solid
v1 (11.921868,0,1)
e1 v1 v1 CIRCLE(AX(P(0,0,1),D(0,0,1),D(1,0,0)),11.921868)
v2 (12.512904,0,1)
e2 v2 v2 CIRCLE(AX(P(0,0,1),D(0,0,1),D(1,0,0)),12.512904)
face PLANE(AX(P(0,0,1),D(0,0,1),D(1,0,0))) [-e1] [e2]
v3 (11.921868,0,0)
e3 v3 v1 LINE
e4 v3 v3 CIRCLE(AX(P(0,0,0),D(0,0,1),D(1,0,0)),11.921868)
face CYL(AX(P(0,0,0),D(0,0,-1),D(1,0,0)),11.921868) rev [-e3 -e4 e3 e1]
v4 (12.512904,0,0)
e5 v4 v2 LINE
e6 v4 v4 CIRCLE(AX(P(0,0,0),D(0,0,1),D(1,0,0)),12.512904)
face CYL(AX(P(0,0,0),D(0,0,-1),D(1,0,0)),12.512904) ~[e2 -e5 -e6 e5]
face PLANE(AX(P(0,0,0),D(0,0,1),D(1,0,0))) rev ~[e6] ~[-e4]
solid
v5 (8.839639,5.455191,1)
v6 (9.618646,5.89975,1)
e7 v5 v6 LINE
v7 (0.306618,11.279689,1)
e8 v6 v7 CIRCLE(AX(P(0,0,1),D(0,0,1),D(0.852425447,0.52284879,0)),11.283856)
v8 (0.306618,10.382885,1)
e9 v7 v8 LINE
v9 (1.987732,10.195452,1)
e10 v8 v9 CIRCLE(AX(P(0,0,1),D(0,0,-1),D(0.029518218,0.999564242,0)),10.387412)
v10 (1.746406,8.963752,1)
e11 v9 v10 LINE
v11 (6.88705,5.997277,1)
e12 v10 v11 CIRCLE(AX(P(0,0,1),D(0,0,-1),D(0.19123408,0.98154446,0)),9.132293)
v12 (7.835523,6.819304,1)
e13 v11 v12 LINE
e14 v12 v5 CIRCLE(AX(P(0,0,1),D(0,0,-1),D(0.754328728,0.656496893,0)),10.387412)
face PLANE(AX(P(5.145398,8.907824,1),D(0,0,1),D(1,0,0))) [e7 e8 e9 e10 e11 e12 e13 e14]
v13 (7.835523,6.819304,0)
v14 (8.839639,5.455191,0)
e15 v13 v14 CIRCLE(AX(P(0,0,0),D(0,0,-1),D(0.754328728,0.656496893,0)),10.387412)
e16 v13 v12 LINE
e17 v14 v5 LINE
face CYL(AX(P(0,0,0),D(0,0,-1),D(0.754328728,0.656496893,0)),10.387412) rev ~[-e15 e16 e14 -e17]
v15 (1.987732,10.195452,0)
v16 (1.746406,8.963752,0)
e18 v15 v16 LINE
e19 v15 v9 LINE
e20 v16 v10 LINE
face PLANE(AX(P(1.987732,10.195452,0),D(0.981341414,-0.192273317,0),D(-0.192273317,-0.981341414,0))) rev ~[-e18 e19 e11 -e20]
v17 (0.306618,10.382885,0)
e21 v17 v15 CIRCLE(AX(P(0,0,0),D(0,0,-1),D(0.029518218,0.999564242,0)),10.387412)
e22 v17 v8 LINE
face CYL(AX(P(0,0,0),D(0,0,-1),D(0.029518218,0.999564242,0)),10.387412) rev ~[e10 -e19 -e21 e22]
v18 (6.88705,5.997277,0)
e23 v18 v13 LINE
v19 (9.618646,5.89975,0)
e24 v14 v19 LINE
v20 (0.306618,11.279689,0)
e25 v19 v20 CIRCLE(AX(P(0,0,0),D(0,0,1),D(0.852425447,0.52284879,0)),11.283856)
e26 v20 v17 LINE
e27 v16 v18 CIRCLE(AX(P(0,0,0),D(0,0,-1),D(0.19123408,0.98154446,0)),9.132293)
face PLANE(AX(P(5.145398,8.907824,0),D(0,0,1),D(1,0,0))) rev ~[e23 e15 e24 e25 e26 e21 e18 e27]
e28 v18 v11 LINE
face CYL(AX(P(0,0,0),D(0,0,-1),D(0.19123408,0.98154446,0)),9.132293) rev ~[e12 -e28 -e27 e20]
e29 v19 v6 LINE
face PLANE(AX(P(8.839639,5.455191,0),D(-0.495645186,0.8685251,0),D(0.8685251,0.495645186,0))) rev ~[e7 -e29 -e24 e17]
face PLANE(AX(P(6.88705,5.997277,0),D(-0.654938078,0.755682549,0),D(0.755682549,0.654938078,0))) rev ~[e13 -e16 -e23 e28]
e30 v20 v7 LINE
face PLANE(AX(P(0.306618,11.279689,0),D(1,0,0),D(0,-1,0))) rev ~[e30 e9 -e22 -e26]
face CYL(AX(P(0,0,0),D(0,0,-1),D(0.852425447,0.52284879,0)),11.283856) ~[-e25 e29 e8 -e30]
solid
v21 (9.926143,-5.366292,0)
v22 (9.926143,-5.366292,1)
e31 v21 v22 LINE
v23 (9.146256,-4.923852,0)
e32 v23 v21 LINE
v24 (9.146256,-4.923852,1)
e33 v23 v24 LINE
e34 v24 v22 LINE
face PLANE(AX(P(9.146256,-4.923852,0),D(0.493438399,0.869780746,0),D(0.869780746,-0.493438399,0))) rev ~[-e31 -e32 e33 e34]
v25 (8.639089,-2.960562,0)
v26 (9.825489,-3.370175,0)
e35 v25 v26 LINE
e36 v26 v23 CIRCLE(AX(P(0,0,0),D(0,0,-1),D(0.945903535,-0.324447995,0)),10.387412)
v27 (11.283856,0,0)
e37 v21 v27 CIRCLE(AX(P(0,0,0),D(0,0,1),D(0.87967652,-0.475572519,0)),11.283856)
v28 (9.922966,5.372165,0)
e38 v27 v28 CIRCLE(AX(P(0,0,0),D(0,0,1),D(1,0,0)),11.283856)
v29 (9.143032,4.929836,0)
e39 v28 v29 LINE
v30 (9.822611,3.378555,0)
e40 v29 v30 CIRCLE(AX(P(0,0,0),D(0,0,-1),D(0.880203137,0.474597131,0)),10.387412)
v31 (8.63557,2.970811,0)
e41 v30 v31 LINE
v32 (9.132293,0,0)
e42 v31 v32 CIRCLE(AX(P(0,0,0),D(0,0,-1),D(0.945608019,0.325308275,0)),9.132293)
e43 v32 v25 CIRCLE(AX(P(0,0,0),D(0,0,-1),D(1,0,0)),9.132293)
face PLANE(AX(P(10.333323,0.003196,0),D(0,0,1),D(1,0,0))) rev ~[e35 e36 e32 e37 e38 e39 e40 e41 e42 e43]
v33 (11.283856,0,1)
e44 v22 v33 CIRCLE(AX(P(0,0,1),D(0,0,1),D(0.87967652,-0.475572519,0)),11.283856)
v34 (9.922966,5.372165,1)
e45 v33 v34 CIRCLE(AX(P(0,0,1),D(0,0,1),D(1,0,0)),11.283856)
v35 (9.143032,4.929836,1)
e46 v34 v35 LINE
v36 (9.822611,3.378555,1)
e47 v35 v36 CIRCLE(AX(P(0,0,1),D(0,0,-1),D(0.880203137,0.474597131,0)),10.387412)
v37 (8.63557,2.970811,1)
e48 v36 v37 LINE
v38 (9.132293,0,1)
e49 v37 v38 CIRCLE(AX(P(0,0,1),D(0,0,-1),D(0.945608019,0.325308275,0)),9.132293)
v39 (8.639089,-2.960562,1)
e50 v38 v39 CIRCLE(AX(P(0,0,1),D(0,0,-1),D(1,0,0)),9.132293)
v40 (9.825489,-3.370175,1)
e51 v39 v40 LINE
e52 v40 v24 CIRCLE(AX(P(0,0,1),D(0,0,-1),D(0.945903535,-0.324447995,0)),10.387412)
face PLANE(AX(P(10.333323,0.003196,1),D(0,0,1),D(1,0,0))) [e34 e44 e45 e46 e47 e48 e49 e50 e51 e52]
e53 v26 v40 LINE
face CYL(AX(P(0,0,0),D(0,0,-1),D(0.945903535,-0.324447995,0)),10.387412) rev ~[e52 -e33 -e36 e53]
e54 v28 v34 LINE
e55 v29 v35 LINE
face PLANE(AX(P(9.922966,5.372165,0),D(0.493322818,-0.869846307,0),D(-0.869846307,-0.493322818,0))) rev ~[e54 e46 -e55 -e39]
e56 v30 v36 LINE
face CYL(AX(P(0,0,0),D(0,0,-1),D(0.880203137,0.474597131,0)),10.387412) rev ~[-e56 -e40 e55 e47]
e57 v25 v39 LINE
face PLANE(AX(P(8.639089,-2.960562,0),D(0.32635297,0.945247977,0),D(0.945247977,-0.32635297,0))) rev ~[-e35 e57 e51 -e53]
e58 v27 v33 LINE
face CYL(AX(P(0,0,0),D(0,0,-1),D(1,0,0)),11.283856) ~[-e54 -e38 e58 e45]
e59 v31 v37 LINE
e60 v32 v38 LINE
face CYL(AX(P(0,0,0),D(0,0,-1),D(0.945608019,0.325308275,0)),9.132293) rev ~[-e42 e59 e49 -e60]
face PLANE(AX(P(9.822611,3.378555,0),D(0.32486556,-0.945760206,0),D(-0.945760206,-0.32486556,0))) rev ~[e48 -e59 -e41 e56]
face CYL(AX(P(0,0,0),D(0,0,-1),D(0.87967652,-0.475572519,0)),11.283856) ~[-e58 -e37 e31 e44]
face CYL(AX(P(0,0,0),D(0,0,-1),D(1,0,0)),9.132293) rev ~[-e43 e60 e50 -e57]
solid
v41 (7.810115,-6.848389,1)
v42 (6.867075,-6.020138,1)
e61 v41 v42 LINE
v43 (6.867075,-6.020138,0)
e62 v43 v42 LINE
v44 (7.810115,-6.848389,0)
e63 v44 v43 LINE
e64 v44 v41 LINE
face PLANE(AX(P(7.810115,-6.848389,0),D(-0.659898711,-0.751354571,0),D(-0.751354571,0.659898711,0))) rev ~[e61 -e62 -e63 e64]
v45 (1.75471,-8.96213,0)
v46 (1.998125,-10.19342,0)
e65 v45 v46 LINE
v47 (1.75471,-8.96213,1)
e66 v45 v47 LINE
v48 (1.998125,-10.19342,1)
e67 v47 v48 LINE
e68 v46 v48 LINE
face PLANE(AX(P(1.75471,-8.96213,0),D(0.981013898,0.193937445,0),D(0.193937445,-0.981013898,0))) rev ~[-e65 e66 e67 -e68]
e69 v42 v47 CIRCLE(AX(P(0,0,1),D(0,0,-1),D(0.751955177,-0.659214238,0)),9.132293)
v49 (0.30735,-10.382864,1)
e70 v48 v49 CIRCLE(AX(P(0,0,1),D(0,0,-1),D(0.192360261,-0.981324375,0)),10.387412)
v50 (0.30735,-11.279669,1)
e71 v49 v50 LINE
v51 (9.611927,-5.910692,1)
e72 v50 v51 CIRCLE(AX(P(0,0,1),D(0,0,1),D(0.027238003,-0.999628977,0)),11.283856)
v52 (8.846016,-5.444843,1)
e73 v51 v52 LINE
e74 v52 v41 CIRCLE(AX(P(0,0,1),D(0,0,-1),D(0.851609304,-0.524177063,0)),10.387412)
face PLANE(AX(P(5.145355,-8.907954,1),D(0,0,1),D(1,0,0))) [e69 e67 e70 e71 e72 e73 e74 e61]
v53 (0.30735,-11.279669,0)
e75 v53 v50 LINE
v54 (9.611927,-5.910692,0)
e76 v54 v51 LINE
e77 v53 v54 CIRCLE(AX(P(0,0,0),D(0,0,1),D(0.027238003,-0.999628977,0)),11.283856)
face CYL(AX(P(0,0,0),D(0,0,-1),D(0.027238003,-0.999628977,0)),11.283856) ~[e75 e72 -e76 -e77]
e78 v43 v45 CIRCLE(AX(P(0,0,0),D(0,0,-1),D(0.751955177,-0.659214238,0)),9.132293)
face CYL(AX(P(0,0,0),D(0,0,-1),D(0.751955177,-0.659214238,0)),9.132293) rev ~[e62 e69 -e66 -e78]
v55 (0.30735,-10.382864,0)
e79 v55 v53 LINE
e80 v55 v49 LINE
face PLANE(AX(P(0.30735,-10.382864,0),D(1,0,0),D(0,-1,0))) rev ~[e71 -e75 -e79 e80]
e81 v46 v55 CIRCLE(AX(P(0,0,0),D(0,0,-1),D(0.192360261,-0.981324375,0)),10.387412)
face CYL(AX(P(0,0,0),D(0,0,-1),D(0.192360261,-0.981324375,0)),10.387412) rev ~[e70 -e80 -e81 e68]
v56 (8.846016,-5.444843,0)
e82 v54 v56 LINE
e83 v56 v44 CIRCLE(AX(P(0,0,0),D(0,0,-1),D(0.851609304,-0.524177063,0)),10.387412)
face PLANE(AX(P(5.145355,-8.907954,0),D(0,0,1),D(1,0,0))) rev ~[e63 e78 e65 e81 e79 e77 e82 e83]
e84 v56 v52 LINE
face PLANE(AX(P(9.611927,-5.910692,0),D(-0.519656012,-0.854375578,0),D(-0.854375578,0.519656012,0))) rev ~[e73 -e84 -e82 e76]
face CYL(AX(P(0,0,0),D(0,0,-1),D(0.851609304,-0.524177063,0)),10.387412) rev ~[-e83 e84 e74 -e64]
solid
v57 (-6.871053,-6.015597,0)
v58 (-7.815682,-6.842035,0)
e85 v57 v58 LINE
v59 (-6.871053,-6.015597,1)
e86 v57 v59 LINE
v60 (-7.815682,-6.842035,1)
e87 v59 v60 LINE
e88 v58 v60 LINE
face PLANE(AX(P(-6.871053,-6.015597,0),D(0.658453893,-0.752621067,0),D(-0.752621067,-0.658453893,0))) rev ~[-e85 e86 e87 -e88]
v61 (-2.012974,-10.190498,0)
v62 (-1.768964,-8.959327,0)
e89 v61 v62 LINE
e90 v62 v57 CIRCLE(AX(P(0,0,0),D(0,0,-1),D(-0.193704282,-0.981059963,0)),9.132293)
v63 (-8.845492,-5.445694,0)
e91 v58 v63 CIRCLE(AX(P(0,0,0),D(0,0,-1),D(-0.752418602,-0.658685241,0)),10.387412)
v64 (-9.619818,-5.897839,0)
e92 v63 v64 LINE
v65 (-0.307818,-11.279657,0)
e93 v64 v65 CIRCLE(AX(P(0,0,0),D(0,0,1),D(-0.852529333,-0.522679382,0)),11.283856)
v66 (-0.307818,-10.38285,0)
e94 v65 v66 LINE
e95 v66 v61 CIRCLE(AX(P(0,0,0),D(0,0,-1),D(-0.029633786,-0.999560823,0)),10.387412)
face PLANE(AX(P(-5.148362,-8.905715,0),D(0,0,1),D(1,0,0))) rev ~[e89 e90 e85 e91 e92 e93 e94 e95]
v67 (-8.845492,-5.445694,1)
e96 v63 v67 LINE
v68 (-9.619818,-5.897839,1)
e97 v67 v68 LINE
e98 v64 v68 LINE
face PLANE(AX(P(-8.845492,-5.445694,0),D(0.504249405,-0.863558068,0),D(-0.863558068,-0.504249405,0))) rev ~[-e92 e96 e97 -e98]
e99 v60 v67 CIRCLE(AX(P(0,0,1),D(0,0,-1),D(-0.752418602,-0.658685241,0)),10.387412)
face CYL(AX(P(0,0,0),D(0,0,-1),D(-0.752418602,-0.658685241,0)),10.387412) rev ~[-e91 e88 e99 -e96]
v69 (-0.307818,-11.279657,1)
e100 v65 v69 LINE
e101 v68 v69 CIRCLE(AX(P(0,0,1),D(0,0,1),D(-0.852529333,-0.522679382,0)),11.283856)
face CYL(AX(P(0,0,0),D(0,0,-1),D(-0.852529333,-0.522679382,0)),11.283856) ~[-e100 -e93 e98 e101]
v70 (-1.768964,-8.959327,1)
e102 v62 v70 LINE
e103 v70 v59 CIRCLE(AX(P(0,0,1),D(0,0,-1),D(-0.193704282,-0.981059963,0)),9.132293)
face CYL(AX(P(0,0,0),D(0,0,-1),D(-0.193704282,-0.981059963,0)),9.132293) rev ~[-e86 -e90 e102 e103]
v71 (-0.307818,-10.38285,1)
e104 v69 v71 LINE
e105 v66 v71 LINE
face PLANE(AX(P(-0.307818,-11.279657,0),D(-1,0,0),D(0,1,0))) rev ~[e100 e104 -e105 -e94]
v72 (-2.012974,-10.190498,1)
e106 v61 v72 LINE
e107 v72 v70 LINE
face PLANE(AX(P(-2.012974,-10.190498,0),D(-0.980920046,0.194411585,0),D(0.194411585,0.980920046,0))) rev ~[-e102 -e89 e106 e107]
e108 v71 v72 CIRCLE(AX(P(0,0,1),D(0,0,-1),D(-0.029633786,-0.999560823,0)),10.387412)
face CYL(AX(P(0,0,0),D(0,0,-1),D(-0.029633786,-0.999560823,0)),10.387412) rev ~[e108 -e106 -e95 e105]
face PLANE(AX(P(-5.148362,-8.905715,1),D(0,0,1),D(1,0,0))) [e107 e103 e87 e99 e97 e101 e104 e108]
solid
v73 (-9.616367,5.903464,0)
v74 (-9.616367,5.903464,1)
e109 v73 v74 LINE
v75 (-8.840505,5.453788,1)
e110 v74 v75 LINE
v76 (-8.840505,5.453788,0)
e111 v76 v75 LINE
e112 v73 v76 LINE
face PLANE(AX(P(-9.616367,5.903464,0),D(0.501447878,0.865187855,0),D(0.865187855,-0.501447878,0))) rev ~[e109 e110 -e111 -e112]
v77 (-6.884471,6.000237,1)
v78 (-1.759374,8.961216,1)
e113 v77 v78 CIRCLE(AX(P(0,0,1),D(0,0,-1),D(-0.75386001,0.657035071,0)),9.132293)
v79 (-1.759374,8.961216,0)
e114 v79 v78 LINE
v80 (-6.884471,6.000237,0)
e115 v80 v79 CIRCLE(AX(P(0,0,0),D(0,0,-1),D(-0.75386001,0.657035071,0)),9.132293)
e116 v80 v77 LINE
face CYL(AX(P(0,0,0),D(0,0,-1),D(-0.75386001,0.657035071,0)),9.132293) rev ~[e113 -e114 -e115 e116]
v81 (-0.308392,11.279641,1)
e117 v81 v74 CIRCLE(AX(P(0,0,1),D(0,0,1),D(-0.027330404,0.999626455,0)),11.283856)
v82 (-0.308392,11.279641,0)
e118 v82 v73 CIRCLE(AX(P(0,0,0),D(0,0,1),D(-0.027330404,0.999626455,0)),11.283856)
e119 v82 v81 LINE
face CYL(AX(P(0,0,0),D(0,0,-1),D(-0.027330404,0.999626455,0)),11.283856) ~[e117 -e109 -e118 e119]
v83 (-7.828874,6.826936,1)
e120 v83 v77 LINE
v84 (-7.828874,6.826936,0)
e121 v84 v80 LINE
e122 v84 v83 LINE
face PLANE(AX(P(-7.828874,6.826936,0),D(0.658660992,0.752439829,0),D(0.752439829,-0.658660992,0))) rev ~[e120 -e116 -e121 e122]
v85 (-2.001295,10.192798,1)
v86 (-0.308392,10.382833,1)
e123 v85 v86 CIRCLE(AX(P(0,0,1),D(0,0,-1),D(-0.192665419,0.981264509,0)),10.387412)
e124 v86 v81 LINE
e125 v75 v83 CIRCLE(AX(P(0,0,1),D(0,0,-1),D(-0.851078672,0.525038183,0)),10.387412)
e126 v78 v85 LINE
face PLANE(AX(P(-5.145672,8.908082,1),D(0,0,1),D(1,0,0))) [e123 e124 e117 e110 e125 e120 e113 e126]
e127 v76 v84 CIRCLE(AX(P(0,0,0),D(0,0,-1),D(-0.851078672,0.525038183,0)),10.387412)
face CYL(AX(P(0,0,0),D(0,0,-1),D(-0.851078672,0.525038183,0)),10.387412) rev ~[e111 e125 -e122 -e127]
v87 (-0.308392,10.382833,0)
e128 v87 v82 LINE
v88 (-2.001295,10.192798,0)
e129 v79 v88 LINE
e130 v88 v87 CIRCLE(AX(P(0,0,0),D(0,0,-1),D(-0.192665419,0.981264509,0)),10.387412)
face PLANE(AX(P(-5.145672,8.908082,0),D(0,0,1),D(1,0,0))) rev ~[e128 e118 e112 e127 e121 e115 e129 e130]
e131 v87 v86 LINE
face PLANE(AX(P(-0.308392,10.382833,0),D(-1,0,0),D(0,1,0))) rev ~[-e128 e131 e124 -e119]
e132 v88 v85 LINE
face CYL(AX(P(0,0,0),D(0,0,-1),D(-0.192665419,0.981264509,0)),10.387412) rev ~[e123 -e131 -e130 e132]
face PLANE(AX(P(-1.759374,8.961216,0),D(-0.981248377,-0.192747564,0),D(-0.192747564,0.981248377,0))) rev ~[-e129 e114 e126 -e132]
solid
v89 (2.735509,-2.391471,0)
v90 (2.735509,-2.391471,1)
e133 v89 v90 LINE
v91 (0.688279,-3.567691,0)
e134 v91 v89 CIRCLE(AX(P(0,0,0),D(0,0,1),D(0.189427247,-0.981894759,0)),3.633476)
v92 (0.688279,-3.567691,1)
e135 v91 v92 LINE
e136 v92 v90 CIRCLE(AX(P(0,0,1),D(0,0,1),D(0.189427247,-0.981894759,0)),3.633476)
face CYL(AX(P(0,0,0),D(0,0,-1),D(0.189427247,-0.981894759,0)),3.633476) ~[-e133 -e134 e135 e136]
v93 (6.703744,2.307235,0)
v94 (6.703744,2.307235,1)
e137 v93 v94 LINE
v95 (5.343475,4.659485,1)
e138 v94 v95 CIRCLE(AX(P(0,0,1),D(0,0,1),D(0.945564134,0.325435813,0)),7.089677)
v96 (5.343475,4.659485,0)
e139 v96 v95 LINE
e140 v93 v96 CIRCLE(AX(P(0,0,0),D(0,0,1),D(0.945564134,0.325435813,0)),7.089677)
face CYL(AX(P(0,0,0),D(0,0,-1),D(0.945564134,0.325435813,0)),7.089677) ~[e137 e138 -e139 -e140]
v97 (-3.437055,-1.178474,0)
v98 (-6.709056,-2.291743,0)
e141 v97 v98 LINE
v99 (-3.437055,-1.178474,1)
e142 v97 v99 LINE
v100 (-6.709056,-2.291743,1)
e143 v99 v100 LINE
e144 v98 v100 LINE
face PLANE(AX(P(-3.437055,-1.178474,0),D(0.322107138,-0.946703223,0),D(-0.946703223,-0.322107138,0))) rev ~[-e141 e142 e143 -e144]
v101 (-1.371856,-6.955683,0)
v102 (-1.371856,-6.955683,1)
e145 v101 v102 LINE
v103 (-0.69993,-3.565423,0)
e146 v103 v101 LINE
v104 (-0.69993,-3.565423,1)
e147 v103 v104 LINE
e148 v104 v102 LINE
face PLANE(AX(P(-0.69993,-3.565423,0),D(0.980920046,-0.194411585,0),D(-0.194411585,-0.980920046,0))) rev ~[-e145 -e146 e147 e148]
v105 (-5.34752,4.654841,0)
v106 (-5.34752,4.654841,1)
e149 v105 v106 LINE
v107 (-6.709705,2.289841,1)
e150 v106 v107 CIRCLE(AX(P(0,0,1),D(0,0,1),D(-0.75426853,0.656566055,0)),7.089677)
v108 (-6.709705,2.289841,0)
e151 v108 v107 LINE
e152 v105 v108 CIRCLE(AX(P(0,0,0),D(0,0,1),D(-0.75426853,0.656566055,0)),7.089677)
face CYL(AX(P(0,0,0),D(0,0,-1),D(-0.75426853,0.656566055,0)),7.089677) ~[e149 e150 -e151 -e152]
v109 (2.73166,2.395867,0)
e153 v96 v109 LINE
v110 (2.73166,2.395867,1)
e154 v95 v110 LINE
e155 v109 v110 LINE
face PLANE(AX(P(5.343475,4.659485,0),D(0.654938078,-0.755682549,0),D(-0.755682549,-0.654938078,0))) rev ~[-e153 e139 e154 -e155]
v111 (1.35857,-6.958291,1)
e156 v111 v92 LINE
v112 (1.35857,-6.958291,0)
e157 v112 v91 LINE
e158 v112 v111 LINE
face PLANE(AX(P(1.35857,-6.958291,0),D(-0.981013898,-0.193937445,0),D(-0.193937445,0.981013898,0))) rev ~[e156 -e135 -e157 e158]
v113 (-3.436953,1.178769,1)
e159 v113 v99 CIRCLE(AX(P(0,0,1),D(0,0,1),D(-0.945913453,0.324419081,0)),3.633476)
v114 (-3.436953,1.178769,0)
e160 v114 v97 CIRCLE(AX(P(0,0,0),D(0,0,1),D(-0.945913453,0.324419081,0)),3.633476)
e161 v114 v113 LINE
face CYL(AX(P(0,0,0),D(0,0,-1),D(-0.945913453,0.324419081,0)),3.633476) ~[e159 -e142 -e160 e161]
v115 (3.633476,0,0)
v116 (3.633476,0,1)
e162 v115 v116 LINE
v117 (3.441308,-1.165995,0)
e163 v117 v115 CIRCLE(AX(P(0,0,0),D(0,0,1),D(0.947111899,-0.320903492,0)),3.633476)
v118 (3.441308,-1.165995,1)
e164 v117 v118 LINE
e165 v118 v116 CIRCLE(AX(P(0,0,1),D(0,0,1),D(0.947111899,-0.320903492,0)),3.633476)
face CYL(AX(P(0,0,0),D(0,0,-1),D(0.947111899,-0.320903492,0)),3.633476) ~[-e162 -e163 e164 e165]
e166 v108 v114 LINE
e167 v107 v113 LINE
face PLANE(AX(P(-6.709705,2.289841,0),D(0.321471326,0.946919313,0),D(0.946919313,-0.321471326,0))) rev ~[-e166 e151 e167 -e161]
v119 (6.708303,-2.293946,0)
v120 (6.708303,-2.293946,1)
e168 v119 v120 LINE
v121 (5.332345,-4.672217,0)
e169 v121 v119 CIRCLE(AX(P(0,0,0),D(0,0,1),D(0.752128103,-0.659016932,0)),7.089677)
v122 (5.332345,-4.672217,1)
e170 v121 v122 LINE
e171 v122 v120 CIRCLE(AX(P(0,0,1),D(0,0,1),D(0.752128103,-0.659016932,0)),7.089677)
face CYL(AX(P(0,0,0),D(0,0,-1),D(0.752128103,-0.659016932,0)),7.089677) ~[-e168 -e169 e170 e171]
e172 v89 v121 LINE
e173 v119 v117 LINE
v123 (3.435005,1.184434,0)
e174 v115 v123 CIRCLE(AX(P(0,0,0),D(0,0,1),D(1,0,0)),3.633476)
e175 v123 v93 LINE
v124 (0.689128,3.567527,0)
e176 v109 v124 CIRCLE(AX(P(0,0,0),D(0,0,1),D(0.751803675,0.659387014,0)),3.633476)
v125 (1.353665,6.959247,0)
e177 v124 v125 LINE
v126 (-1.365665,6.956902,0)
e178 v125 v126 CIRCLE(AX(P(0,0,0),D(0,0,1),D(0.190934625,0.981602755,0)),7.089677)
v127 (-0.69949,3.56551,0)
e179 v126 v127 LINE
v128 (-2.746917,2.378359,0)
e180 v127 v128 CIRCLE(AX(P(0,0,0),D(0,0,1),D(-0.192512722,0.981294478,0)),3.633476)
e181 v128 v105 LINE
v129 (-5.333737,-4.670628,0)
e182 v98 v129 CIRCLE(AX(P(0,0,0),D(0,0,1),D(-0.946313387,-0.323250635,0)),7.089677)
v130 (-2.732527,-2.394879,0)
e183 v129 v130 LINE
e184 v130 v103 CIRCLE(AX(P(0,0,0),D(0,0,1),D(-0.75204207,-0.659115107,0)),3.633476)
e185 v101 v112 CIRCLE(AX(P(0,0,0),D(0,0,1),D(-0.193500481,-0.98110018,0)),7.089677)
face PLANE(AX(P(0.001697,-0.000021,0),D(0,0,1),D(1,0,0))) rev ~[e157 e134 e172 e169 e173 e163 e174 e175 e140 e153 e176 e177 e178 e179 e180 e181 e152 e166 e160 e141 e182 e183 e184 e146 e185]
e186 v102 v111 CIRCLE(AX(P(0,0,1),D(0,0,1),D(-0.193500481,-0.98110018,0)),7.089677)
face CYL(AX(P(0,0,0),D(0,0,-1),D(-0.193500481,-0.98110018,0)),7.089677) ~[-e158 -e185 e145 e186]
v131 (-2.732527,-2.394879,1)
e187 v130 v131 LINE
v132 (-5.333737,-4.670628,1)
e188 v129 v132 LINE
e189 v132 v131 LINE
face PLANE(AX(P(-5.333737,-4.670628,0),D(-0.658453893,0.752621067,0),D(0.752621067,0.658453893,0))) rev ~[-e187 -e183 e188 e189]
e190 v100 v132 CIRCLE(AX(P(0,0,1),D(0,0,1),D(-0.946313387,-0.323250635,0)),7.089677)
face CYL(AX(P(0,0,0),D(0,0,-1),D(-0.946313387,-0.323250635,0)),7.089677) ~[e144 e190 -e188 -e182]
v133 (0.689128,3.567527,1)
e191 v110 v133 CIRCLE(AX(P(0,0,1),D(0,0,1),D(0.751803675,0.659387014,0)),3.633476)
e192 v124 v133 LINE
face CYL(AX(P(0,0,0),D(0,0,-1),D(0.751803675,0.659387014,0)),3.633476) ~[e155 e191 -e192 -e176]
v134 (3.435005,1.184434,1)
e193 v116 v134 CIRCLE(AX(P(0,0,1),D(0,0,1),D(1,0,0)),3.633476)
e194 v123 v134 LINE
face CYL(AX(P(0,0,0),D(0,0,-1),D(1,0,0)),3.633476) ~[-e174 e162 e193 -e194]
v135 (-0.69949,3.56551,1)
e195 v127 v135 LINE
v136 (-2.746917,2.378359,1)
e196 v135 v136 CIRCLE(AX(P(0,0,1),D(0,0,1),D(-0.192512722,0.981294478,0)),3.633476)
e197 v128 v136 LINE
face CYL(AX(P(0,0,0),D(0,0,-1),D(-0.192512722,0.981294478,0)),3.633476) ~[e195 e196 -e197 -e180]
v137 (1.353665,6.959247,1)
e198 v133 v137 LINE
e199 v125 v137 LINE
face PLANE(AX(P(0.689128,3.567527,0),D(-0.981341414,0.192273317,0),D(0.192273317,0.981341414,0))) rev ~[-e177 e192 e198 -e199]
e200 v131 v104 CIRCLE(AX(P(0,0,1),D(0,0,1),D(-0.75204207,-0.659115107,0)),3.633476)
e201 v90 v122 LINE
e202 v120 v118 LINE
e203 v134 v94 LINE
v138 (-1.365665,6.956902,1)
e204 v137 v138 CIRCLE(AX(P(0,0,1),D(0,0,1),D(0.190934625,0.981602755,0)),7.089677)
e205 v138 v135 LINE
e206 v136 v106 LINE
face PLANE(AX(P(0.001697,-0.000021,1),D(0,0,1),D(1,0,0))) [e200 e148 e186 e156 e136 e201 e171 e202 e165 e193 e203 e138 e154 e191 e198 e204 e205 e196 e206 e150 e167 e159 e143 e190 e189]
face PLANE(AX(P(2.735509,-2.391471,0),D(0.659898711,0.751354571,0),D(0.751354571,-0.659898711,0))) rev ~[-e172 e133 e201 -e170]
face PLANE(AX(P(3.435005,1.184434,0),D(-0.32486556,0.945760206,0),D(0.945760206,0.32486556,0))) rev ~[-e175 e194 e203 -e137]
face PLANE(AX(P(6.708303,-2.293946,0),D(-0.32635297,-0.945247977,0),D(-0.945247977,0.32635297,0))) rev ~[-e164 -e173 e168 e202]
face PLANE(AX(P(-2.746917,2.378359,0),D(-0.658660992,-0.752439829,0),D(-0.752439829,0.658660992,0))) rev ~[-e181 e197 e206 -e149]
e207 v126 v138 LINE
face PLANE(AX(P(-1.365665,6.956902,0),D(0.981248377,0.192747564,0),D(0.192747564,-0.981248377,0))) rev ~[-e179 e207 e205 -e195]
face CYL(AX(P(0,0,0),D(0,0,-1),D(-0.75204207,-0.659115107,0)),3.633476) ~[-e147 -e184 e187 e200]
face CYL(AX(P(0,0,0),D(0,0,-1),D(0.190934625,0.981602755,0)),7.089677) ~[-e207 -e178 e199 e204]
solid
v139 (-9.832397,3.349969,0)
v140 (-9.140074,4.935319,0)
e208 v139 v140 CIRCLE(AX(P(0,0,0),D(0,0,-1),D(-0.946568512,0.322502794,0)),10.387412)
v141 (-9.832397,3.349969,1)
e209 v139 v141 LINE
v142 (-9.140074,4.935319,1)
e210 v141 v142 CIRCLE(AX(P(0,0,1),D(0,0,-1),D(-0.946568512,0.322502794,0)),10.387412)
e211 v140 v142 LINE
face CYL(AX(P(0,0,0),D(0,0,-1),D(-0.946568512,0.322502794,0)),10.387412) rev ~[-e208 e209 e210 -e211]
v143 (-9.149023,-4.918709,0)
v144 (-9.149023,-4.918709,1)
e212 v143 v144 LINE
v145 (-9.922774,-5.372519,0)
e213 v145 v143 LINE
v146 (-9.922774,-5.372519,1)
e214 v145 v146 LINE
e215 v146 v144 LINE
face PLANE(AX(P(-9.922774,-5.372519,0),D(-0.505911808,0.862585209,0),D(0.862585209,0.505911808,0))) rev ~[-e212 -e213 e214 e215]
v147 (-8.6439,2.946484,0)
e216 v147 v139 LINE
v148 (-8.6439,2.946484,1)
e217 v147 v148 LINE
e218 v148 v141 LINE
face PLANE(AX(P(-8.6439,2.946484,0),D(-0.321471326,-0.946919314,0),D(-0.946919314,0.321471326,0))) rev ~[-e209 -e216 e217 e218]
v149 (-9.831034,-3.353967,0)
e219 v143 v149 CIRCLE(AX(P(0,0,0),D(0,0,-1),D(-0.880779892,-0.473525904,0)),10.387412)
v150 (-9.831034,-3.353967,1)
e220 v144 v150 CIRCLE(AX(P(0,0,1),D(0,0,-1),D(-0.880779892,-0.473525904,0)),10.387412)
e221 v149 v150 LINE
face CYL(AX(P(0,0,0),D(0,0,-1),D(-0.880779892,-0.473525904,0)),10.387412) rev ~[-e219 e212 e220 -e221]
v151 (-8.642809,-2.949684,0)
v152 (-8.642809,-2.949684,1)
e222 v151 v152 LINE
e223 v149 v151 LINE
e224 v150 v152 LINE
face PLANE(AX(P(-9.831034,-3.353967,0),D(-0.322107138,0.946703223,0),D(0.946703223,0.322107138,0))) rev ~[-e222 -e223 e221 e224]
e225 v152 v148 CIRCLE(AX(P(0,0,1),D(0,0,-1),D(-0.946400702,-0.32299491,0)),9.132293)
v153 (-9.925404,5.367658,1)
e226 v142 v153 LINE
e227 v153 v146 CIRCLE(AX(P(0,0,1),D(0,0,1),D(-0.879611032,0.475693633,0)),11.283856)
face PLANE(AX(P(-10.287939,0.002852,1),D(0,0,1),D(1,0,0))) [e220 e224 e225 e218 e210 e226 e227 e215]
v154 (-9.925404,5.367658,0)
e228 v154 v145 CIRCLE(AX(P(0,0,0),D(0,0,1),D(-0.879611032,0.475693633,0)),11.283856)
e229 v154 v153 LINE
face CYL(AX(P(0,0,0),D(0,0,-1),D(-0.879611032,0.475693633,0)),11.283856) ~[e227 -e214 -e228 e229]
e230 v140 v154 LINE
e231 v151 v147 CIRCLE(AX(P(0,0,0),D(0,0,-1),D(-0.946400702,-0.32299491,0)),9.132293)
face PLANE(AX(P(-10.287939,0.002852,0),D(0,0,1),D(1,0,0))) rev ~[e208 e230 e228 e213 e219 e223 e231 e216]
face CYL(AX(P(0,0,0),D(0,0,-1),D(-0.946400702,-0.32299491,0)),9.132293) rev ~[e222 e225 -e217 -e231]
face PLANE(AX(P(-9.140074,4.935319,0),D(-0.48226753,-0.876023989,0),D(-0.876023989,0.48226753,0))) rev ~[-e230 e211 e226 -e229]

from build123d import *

# Parameters (mm, degrees)
F0_R     = 12.5129035434
F0_R_2   = 11.9218678141
F1_DEPTH = 1


with BuildPart() as f1:
    # F0 (on Top) → F1 (new body)
    with BuildSketch(Plane.XY):
        Circle(F0_R)
        Circle(F0_R_2, mode=Mode.SUBTRACT)
    extrude(amount=F1_DEPTH)


with BuildPart() as f1b:
    # F0 (on Top) → F1, piece 2 (new body)
    with BuildSketch(Plane.XY):
        with BuildLine():
            Line((8.8396388075, 5.4551908651), (9.6186460471, 5.8997504842))
            ThreePointArc((9.6186460471, 5.8997504842), (5.6447897831, 9.7704532065), (0.3066178794, 11.2796894031))
            Line((0.3066178794, 11.2796894031), (0.3066178794, 10.3828852974))
            ThreePointArc((0.3066178794, 10.3828852974), (1.1509963885, 10.3234455942), (1.9877316065, 10.1954521569))
            ThreePointArc((1.9877316065, 10.1954521569), (5.1936189617, 8.9958125649), (7.8355230443, 6.8193035014))
            ThreePointArc((7.8355230443, 6.8193035014), (8.3654322373, 6.1577483795), (8.8396388075, 5.4551908651))
        make_face()
        with BuildLine():
            Line((6.8870497225, 5.9972767185), (7.8355230443, 6.8193035014))
            ThreePointArc((7.8355230443, 6.8193035014), (5.1936189617, 8.9958125649), (1.9877316065, 10.1954521569))
            Line((1.9877316065, 10.1954521569), (1.7464057225, 8.9637519471))
            ThreePointArc((1.7464057225, 8.9637519471), (4.5644421401, 7.9097819102), (6.8870497225, 5.9972767185))
        make_face()
    extrude(amount=F1_DEPTH)


with BuildPart() as f1c:
    # F0 (on Top) → F1, piece 3 (new body)
    with BuildSketch(Plane.XY):
        with BuildLine():
            ThreePointArc((9.9261432267, -5.3662918481), (10.9391631066, -2.7676918331), (11.2838560588, 0))
            ThreePointArc((11.2838560588, 0), (10.9383436287, 2.7709287641), (9.9229655661, 5.3721654786))
            Line((9.9229655661, 5.3721654786), (9.1430323592, 4.9298357885))
            ThreePointArc((9.1430323592, 4.9298357885), (9.5144902121, 4.1680688127), (9.8226109206, 3.3785553607))
            ThreePointArc((9.8226109206, 3.3785553607), (10.2452385313, 1.7127197841), (10.3874116902, 0))
            ThreePointArc((10.3874116902, 0), (10.2459681219, -1.70834975), (9.8254894414, -3.3701749005))
            ThreePointArc((9.8254894414, -3.3701749005), (9.5176290977, -4.1608962954), (9.1462564846, -4.9238515351))
            Line((9.1462564846, -4.9238515351), (9.9261432267, -5.3662918481))
        make_face()
        with BuildLine():
            ThreePointArc((10.3874116902, 0), (10.2452385313, 1.7127197841), (9.8226109206, 3.3785553607))
            Line((9.8226109206, 3.3785553607), (8.6355698302, 2.9708106006))
            ThreePointArc((8.6355698302, 2.9708106006), (9.0072564883, 1.5060253886), (9.1322933548, 0))
            ThreePointArc((9.1322933548, 0), (9.0081483571, -1.5006815429), (8.6390886349, -2.9605623582))
            Line((8.6390886349, -2.9605623582), (9.8254894414, -3.3701749005))
            ThreePointArc((9.8254894414, -3.3701749005), (10.2459681219, -1.70834975), (10.3874116902, 0))
        make_face()
    extrude(amount=F1_DEPTH)


with BuildPart() as f1d:
    # F0 (on Top) → F1, piece 4 (new body)
    with BuildSketch(Plane.XY):
        with BuildLine():
            ThreePointArc((0.3073497054, -11.279669486), (5.6395470454, -9.7734802746), (9.6119265196, -5.9106916801))
            Line((9.6119265196, -5.9106916801), (8.8460164405, -5.4448429506))
            ThreePointArc((8.8460164405, -5.4448429506), (8.3575809895, -6.1684002486), (7.8101145103, -6.8483890776))
            ThreePointArc((7.8101145103, -6.8483890776), (5.1814766366, -9.0028118656), (1.9981252265, -10.1934202897))
            ThreePointArc((1.9981252265, -10.1934202897), (1.1566226105, -10.3228167551), (0.3073497054, -10.38286366))
            Line((0.3073497054, -10.38286366), (0.3073497054, -11.279669486))
        make_face()
        with BuildLine():
            ThreePointArc((1.9981252265, -10.1934202897), (5.1814766366, -9.0028118656), (7.8101145103, -6.8483890776))
            Line((7.8101145103, -6.8483890776), (6.867075268, -6.0201378042))
            ThreePointArc((6.867075268, -6.0201378042), (4.5549562659, -7.91524828), (1.7547104258, -8.9621299499))
            Line((1.7547104258, -8.9621299499), (1.9981252265, -10.1934202897))
        make_face()
    extrude(amount=F1_DEPTH)


with BuildPart() as f1e:
    # F0 (on Top) → F1, piece 5 (new body)
    with BuildSketch(Plane.XY):
        with BuildLine():
            ThreePointArc((-9.6198182765, -5.8978389164), (-5.6462804441, -9.7695918391), (-0.3078183345, -11.279656707))
            Line((-0.3078183345, -11.279656707), (-0.3078183345, -10.3828497772))
            ThreePointArc((-0.3078183345, -10.3828497772), (-1.1643749142, -10.3219451985), (-2.0129739246, -10.1904983981))
            ThreePointArc((-2.0129739246, -10.1904983981), (-5.1916924434, -8.996924541), (-7.8156817855, -6.8420347742))
            ThreePointArc((-7.8156817855, -6.8420347742), (-8.3597920993, -6.165403286), (-8.8454924969, -5.4456940889))
            Line((-8.8454924969, -5.4456940889), (-9.6198182765, -5.8978389164))
        make_face()
        with BuildLine():
            ThreePointArc((-7.8156817855, -6.8420347742), (-5.1916924434, -8.996924541), (-2.0129739246, -10.1904983981))
            Line((-2.0129739246, -10.1904983981), (-1.7689643242, -8.959327382))
            ThreePointArc((-1.7689643242, -8.959327382), (-4.5638648899, -7.9101149919), (-6.8710532338, -6.0155971753))
            Line((-6.8710532338, -6.0155971753), (-7.8156817855, -6.8420347742))
        make_face()
    extrude(amount=F1_DEPTH)


with BuildPart() as f1f:
    # F0 (on Top) → F1, piece 6 (new body)
    with BuildSketch(Plane.XY):
        with BuildLine():
            Line((-9.1400735771, 4.9353193035), (-9.9254042713, 5.3676584846))
            ThreePointArc((-9.9254042713, 5.3676584846), (-11.2838557205, -0.0027629713), (-9.9227744254, -5.3725185209))
            Line((-9.9227744254, -5.3725185209), (-9.1490233494, -4.9187085069))
            ThreePointArc((-9.1490233494, -4.9187085069), (-9.5222238475, -4.1503704197), (-9.8310338698, -3.3539670055))
            ThreePointArc((-9.8310338698, -3.3539670055), (-10.3874114756, -0.002111833), (-9.8323968267, 3.3499692932))
            ThreePointArc((-9.8323968267, 3.3499692932), (-9.5192957706, 4.1570818675), (-9.1400735771, 4.9353193035))
        make_face()
        with BuildLine():
            Line((-8.6439002318, 2.9464844647), (-9.8323968267, 3.3499692932))
            ThreePointArc((-9.8323968267, 3.3499692932), (-10.3874114756, -0.002111833), (-9.8310338698, -3.3539670055))
            Line((-9.8310338698, -3.3539670055), (-8.6428088374, -2.9496842744))
            ThreePointArc((-8.6428088374, -2.9496842744), (-9.1322931983, -0.0016904085), (-8.6439002318, 2.9464844647))
        make_face()
    extrude(amount=F1_DEPTH)


with BuildPart() as f1g:
    # F0 (on Top) → F1, piece 7 (new body)
    with BuildSketch(Plane.XY):
        with BuildLine():
            Line((-0.3083923438, 10.3828327438), (-0.3083923438, 11.2796410279))
            ThreePointArc((-0.3083923438, 11.2796410279), (-5.643671845, 9.7710989997), (-9.6163671511, 5.9034642687))
            Line((-9.6163671511, 5.9034642687), (-8.8405045503, 5.4537877589))
            ThreePointArc((-8.8405045503, 5.4537877589), (-8.3629197756, 6.1611601544), (-7.8288737244, 6.8269361965))
            ThreePointArc((-7.8288737244, 6.8269361965), (-5.1952200664, 8.9948879973), (-2.0012950213, 10.1927984313))
            ThreePointArc((-2.0012950213, 10.1927984313), (-1.1587459562, 10.3225786232), (-0.3083923438, 10.3828327438))
        make_face()
        with BuildLine():
            Line((-1.7593740184, 8.9612155973), (-2.0012950213, 10.1927984313))
            ThreePointArc((-2.0012950213, 10.1927984313), (-5.1952200664, 8.9948879973), (-7.8288737244, 6.8269361965))
            Line((-7.8288737244, 6.8269361965), (-6.8844707632, 6.0002370143))
            ThreePointArc((-6.8844707632, 6.0002370143), (-4.5684638222, 7.9074597832), (-1.7593740184, 8.9612155973))
        make_face()
    extrude(amount=F1_DEPTH)


with BuildPart() as f1h:
    # F0 (on Top) → F1, piece 8 (new body)
    with BuildSketch(Plane.XY):
        with BuildLine():
            ThreePointArc((3.6334755842, 0), (3.583514543, 0.6004734312), (3.4350053685, 1.1844335945))
            ThreePointArc((3.4350053685, 1.1844335945), (3.1422657187, 1.8243659102), (2.7316602961, 2.3958666173))
            ThreePointArc((2.7316602961, 2.3958666173), (1.8079395778, 3.1517454377), (0.6891283027, 3.5675267348))
            ThreePointArc((0.6891283027, 3.5675267348), (-0.0052782479, 3.6334717504), (-0.6994902751, 3.5655095255))
            ThreePointArc((-0.6994902751, 3.5655095255), (-1.822570271, 3.1433075619), (-2.7469170245, 2.3783590313))
            ThreePointArc((-2.7469170245, 2.3783590313), (-3.1495741996, 1.8117193995), (-3.4369534347, 1.1787688105))
            ThreePointArc((-3.4369534347, 1.1787688105), (-3.6334755809, 0.0001559043), (-3.4370545787, -1.1784738623))
            ThreePointArc((-3.4370545787, -1.1784738623), (-3.1441760167, -1.8210716617), (-2.7325265002, -2.3948786497))
            ThreePointArc((-2.7325265002, -2.3948786497), (-1.8132795313, -3.1486762556), (-0.699929749, -3.5654232803))
            ThreePointArc((-0.699929749, -3.5654232803), (-0.0059345256, -3.6334707378), (0.6882792775, -3.5676906336))
            ThreePointArc((0.6882792775, -3.5676906336), (1.8100979826, -3.1505063267), (2.7355090954, -2.3914712648))
            ThreePointArc((2.7355090954, -2.3914712648), (3.1486052863, -1.8134027606), (3.4413079596, -1.1659950037))
            ThreePointArc((3.4413079596, -1.1659950037), (3.5851118023, -0.5908622396), (3.6334755842, 0))
        make_face()
        with BuildLine():
            Line((0.6891283027, 3.5675267348), (1.3536648238, 6.9592465073))
            ThreePointArc((1.3536648238, 6.9592465073), (-0.0061134144, 7.0896743952), (-1.3656646951, 6.956901634))
            Line((-1.3656646951, 6.956901634), (-0.6994902751, 3.5655095255))
            ThreePointArc((-0.6994902751, 3.5655095255), (-0.0052782479, 3.6334717504), (0.6891283027, 3.5675267348))
        make_face()
        with BuildLine():
            Line((-2.7469170245, 2.3783590313), (-5.3475202715, 4.6548412809))
            ThreePointArc((-5.3475202715, 4.6548412809), (-6.1434908203, 3.5385082939), (-6.7097054717, 2.2898412362))
            Line((-6.7097054717, 2.2898412362), (-3.4369534347, 1.1787688105))
            ThreePointArc((-3.4369534347, 1.1787688105), (-3.1495741996, 1.8117193995), (-2.7469170245, 2.3783590313))
        make_face()
        with BuildLine():
            ThreePointArc((-6.7090562856, -2.2917426037), (-6.1377513921, -3.5484543471), (-5.3337370357, -4.6706283986))
            Line((-5.3337370357, -4.6706283986), (-2.7325265002, -2.3948786497))
            ThreePointArc((-2.7325265002, -2.3948786497), (-3.1441760167, -1.8210716617), (-3.4370545787, -1.1784738623))
            Line((-3.4370545787, -1.1784738623), (-6.7090562856, -2.2917426037))
        make_face()
        with BuildLine():
            ThreePointArc((-1.3718559148, -6.9556834138), (-0.0067697658, -7.0896737989), (1.3585697823, -6.9582906343))
            Line((1.3585697823, -6.9582906343), (0.6882792775, -3.5676906336))
            ThreePointArc((0.6882792775, -3.5676906336), (-0.0059345256, -3.6334707378), (-0.699929749, -3.5654232803))
            Line((-0.699929749, -3.5654232803), (-1.3718559148, -6.9556834138))
        make_face()
        with BuildLine():
            ThreePointArc((5.3323453366, -4.6722172055), (6.1366397383, -3.5503764767), (6.7083031564, -2.2939461994))
            Line((6.7083031564, -2.2939461994), (3.4413079596, -1.1659950037))
            ThreePointArc((3.4413079596, -1.1659950037), (3.1486052863, -1.8134027606), (2.7355090954, -2.3914712648))
            Line((2.7355090954, -2.3914712648), (5.3323453366, -4.6722172055))
        make_face()
        with BuildLine():
            Line((3.4350053685, 1.1844335945), (6.7037443217, 2.3072348112))
            ThreePointArc((6.7037443217, 2.3072348112), (6.1373562448, 3.5491377444), (5.3434747305, 4.6594847579))
            Line((5.3434747305, 4.6594847579), (2.7316602961, 2.3958666173))
            ThreePointArc((2.7316602961, 2.3958666173), (3.1422657187, 1.8243659102), (3.4350053685, 1.1844335945))
        make_face()
    extrude(amount=F1_DEPTH)


solid = Compound([f1.part, f1b.part, f1c.part, f1d.part, f1e.part, f1f.part, f1g.part, f1h.part])
